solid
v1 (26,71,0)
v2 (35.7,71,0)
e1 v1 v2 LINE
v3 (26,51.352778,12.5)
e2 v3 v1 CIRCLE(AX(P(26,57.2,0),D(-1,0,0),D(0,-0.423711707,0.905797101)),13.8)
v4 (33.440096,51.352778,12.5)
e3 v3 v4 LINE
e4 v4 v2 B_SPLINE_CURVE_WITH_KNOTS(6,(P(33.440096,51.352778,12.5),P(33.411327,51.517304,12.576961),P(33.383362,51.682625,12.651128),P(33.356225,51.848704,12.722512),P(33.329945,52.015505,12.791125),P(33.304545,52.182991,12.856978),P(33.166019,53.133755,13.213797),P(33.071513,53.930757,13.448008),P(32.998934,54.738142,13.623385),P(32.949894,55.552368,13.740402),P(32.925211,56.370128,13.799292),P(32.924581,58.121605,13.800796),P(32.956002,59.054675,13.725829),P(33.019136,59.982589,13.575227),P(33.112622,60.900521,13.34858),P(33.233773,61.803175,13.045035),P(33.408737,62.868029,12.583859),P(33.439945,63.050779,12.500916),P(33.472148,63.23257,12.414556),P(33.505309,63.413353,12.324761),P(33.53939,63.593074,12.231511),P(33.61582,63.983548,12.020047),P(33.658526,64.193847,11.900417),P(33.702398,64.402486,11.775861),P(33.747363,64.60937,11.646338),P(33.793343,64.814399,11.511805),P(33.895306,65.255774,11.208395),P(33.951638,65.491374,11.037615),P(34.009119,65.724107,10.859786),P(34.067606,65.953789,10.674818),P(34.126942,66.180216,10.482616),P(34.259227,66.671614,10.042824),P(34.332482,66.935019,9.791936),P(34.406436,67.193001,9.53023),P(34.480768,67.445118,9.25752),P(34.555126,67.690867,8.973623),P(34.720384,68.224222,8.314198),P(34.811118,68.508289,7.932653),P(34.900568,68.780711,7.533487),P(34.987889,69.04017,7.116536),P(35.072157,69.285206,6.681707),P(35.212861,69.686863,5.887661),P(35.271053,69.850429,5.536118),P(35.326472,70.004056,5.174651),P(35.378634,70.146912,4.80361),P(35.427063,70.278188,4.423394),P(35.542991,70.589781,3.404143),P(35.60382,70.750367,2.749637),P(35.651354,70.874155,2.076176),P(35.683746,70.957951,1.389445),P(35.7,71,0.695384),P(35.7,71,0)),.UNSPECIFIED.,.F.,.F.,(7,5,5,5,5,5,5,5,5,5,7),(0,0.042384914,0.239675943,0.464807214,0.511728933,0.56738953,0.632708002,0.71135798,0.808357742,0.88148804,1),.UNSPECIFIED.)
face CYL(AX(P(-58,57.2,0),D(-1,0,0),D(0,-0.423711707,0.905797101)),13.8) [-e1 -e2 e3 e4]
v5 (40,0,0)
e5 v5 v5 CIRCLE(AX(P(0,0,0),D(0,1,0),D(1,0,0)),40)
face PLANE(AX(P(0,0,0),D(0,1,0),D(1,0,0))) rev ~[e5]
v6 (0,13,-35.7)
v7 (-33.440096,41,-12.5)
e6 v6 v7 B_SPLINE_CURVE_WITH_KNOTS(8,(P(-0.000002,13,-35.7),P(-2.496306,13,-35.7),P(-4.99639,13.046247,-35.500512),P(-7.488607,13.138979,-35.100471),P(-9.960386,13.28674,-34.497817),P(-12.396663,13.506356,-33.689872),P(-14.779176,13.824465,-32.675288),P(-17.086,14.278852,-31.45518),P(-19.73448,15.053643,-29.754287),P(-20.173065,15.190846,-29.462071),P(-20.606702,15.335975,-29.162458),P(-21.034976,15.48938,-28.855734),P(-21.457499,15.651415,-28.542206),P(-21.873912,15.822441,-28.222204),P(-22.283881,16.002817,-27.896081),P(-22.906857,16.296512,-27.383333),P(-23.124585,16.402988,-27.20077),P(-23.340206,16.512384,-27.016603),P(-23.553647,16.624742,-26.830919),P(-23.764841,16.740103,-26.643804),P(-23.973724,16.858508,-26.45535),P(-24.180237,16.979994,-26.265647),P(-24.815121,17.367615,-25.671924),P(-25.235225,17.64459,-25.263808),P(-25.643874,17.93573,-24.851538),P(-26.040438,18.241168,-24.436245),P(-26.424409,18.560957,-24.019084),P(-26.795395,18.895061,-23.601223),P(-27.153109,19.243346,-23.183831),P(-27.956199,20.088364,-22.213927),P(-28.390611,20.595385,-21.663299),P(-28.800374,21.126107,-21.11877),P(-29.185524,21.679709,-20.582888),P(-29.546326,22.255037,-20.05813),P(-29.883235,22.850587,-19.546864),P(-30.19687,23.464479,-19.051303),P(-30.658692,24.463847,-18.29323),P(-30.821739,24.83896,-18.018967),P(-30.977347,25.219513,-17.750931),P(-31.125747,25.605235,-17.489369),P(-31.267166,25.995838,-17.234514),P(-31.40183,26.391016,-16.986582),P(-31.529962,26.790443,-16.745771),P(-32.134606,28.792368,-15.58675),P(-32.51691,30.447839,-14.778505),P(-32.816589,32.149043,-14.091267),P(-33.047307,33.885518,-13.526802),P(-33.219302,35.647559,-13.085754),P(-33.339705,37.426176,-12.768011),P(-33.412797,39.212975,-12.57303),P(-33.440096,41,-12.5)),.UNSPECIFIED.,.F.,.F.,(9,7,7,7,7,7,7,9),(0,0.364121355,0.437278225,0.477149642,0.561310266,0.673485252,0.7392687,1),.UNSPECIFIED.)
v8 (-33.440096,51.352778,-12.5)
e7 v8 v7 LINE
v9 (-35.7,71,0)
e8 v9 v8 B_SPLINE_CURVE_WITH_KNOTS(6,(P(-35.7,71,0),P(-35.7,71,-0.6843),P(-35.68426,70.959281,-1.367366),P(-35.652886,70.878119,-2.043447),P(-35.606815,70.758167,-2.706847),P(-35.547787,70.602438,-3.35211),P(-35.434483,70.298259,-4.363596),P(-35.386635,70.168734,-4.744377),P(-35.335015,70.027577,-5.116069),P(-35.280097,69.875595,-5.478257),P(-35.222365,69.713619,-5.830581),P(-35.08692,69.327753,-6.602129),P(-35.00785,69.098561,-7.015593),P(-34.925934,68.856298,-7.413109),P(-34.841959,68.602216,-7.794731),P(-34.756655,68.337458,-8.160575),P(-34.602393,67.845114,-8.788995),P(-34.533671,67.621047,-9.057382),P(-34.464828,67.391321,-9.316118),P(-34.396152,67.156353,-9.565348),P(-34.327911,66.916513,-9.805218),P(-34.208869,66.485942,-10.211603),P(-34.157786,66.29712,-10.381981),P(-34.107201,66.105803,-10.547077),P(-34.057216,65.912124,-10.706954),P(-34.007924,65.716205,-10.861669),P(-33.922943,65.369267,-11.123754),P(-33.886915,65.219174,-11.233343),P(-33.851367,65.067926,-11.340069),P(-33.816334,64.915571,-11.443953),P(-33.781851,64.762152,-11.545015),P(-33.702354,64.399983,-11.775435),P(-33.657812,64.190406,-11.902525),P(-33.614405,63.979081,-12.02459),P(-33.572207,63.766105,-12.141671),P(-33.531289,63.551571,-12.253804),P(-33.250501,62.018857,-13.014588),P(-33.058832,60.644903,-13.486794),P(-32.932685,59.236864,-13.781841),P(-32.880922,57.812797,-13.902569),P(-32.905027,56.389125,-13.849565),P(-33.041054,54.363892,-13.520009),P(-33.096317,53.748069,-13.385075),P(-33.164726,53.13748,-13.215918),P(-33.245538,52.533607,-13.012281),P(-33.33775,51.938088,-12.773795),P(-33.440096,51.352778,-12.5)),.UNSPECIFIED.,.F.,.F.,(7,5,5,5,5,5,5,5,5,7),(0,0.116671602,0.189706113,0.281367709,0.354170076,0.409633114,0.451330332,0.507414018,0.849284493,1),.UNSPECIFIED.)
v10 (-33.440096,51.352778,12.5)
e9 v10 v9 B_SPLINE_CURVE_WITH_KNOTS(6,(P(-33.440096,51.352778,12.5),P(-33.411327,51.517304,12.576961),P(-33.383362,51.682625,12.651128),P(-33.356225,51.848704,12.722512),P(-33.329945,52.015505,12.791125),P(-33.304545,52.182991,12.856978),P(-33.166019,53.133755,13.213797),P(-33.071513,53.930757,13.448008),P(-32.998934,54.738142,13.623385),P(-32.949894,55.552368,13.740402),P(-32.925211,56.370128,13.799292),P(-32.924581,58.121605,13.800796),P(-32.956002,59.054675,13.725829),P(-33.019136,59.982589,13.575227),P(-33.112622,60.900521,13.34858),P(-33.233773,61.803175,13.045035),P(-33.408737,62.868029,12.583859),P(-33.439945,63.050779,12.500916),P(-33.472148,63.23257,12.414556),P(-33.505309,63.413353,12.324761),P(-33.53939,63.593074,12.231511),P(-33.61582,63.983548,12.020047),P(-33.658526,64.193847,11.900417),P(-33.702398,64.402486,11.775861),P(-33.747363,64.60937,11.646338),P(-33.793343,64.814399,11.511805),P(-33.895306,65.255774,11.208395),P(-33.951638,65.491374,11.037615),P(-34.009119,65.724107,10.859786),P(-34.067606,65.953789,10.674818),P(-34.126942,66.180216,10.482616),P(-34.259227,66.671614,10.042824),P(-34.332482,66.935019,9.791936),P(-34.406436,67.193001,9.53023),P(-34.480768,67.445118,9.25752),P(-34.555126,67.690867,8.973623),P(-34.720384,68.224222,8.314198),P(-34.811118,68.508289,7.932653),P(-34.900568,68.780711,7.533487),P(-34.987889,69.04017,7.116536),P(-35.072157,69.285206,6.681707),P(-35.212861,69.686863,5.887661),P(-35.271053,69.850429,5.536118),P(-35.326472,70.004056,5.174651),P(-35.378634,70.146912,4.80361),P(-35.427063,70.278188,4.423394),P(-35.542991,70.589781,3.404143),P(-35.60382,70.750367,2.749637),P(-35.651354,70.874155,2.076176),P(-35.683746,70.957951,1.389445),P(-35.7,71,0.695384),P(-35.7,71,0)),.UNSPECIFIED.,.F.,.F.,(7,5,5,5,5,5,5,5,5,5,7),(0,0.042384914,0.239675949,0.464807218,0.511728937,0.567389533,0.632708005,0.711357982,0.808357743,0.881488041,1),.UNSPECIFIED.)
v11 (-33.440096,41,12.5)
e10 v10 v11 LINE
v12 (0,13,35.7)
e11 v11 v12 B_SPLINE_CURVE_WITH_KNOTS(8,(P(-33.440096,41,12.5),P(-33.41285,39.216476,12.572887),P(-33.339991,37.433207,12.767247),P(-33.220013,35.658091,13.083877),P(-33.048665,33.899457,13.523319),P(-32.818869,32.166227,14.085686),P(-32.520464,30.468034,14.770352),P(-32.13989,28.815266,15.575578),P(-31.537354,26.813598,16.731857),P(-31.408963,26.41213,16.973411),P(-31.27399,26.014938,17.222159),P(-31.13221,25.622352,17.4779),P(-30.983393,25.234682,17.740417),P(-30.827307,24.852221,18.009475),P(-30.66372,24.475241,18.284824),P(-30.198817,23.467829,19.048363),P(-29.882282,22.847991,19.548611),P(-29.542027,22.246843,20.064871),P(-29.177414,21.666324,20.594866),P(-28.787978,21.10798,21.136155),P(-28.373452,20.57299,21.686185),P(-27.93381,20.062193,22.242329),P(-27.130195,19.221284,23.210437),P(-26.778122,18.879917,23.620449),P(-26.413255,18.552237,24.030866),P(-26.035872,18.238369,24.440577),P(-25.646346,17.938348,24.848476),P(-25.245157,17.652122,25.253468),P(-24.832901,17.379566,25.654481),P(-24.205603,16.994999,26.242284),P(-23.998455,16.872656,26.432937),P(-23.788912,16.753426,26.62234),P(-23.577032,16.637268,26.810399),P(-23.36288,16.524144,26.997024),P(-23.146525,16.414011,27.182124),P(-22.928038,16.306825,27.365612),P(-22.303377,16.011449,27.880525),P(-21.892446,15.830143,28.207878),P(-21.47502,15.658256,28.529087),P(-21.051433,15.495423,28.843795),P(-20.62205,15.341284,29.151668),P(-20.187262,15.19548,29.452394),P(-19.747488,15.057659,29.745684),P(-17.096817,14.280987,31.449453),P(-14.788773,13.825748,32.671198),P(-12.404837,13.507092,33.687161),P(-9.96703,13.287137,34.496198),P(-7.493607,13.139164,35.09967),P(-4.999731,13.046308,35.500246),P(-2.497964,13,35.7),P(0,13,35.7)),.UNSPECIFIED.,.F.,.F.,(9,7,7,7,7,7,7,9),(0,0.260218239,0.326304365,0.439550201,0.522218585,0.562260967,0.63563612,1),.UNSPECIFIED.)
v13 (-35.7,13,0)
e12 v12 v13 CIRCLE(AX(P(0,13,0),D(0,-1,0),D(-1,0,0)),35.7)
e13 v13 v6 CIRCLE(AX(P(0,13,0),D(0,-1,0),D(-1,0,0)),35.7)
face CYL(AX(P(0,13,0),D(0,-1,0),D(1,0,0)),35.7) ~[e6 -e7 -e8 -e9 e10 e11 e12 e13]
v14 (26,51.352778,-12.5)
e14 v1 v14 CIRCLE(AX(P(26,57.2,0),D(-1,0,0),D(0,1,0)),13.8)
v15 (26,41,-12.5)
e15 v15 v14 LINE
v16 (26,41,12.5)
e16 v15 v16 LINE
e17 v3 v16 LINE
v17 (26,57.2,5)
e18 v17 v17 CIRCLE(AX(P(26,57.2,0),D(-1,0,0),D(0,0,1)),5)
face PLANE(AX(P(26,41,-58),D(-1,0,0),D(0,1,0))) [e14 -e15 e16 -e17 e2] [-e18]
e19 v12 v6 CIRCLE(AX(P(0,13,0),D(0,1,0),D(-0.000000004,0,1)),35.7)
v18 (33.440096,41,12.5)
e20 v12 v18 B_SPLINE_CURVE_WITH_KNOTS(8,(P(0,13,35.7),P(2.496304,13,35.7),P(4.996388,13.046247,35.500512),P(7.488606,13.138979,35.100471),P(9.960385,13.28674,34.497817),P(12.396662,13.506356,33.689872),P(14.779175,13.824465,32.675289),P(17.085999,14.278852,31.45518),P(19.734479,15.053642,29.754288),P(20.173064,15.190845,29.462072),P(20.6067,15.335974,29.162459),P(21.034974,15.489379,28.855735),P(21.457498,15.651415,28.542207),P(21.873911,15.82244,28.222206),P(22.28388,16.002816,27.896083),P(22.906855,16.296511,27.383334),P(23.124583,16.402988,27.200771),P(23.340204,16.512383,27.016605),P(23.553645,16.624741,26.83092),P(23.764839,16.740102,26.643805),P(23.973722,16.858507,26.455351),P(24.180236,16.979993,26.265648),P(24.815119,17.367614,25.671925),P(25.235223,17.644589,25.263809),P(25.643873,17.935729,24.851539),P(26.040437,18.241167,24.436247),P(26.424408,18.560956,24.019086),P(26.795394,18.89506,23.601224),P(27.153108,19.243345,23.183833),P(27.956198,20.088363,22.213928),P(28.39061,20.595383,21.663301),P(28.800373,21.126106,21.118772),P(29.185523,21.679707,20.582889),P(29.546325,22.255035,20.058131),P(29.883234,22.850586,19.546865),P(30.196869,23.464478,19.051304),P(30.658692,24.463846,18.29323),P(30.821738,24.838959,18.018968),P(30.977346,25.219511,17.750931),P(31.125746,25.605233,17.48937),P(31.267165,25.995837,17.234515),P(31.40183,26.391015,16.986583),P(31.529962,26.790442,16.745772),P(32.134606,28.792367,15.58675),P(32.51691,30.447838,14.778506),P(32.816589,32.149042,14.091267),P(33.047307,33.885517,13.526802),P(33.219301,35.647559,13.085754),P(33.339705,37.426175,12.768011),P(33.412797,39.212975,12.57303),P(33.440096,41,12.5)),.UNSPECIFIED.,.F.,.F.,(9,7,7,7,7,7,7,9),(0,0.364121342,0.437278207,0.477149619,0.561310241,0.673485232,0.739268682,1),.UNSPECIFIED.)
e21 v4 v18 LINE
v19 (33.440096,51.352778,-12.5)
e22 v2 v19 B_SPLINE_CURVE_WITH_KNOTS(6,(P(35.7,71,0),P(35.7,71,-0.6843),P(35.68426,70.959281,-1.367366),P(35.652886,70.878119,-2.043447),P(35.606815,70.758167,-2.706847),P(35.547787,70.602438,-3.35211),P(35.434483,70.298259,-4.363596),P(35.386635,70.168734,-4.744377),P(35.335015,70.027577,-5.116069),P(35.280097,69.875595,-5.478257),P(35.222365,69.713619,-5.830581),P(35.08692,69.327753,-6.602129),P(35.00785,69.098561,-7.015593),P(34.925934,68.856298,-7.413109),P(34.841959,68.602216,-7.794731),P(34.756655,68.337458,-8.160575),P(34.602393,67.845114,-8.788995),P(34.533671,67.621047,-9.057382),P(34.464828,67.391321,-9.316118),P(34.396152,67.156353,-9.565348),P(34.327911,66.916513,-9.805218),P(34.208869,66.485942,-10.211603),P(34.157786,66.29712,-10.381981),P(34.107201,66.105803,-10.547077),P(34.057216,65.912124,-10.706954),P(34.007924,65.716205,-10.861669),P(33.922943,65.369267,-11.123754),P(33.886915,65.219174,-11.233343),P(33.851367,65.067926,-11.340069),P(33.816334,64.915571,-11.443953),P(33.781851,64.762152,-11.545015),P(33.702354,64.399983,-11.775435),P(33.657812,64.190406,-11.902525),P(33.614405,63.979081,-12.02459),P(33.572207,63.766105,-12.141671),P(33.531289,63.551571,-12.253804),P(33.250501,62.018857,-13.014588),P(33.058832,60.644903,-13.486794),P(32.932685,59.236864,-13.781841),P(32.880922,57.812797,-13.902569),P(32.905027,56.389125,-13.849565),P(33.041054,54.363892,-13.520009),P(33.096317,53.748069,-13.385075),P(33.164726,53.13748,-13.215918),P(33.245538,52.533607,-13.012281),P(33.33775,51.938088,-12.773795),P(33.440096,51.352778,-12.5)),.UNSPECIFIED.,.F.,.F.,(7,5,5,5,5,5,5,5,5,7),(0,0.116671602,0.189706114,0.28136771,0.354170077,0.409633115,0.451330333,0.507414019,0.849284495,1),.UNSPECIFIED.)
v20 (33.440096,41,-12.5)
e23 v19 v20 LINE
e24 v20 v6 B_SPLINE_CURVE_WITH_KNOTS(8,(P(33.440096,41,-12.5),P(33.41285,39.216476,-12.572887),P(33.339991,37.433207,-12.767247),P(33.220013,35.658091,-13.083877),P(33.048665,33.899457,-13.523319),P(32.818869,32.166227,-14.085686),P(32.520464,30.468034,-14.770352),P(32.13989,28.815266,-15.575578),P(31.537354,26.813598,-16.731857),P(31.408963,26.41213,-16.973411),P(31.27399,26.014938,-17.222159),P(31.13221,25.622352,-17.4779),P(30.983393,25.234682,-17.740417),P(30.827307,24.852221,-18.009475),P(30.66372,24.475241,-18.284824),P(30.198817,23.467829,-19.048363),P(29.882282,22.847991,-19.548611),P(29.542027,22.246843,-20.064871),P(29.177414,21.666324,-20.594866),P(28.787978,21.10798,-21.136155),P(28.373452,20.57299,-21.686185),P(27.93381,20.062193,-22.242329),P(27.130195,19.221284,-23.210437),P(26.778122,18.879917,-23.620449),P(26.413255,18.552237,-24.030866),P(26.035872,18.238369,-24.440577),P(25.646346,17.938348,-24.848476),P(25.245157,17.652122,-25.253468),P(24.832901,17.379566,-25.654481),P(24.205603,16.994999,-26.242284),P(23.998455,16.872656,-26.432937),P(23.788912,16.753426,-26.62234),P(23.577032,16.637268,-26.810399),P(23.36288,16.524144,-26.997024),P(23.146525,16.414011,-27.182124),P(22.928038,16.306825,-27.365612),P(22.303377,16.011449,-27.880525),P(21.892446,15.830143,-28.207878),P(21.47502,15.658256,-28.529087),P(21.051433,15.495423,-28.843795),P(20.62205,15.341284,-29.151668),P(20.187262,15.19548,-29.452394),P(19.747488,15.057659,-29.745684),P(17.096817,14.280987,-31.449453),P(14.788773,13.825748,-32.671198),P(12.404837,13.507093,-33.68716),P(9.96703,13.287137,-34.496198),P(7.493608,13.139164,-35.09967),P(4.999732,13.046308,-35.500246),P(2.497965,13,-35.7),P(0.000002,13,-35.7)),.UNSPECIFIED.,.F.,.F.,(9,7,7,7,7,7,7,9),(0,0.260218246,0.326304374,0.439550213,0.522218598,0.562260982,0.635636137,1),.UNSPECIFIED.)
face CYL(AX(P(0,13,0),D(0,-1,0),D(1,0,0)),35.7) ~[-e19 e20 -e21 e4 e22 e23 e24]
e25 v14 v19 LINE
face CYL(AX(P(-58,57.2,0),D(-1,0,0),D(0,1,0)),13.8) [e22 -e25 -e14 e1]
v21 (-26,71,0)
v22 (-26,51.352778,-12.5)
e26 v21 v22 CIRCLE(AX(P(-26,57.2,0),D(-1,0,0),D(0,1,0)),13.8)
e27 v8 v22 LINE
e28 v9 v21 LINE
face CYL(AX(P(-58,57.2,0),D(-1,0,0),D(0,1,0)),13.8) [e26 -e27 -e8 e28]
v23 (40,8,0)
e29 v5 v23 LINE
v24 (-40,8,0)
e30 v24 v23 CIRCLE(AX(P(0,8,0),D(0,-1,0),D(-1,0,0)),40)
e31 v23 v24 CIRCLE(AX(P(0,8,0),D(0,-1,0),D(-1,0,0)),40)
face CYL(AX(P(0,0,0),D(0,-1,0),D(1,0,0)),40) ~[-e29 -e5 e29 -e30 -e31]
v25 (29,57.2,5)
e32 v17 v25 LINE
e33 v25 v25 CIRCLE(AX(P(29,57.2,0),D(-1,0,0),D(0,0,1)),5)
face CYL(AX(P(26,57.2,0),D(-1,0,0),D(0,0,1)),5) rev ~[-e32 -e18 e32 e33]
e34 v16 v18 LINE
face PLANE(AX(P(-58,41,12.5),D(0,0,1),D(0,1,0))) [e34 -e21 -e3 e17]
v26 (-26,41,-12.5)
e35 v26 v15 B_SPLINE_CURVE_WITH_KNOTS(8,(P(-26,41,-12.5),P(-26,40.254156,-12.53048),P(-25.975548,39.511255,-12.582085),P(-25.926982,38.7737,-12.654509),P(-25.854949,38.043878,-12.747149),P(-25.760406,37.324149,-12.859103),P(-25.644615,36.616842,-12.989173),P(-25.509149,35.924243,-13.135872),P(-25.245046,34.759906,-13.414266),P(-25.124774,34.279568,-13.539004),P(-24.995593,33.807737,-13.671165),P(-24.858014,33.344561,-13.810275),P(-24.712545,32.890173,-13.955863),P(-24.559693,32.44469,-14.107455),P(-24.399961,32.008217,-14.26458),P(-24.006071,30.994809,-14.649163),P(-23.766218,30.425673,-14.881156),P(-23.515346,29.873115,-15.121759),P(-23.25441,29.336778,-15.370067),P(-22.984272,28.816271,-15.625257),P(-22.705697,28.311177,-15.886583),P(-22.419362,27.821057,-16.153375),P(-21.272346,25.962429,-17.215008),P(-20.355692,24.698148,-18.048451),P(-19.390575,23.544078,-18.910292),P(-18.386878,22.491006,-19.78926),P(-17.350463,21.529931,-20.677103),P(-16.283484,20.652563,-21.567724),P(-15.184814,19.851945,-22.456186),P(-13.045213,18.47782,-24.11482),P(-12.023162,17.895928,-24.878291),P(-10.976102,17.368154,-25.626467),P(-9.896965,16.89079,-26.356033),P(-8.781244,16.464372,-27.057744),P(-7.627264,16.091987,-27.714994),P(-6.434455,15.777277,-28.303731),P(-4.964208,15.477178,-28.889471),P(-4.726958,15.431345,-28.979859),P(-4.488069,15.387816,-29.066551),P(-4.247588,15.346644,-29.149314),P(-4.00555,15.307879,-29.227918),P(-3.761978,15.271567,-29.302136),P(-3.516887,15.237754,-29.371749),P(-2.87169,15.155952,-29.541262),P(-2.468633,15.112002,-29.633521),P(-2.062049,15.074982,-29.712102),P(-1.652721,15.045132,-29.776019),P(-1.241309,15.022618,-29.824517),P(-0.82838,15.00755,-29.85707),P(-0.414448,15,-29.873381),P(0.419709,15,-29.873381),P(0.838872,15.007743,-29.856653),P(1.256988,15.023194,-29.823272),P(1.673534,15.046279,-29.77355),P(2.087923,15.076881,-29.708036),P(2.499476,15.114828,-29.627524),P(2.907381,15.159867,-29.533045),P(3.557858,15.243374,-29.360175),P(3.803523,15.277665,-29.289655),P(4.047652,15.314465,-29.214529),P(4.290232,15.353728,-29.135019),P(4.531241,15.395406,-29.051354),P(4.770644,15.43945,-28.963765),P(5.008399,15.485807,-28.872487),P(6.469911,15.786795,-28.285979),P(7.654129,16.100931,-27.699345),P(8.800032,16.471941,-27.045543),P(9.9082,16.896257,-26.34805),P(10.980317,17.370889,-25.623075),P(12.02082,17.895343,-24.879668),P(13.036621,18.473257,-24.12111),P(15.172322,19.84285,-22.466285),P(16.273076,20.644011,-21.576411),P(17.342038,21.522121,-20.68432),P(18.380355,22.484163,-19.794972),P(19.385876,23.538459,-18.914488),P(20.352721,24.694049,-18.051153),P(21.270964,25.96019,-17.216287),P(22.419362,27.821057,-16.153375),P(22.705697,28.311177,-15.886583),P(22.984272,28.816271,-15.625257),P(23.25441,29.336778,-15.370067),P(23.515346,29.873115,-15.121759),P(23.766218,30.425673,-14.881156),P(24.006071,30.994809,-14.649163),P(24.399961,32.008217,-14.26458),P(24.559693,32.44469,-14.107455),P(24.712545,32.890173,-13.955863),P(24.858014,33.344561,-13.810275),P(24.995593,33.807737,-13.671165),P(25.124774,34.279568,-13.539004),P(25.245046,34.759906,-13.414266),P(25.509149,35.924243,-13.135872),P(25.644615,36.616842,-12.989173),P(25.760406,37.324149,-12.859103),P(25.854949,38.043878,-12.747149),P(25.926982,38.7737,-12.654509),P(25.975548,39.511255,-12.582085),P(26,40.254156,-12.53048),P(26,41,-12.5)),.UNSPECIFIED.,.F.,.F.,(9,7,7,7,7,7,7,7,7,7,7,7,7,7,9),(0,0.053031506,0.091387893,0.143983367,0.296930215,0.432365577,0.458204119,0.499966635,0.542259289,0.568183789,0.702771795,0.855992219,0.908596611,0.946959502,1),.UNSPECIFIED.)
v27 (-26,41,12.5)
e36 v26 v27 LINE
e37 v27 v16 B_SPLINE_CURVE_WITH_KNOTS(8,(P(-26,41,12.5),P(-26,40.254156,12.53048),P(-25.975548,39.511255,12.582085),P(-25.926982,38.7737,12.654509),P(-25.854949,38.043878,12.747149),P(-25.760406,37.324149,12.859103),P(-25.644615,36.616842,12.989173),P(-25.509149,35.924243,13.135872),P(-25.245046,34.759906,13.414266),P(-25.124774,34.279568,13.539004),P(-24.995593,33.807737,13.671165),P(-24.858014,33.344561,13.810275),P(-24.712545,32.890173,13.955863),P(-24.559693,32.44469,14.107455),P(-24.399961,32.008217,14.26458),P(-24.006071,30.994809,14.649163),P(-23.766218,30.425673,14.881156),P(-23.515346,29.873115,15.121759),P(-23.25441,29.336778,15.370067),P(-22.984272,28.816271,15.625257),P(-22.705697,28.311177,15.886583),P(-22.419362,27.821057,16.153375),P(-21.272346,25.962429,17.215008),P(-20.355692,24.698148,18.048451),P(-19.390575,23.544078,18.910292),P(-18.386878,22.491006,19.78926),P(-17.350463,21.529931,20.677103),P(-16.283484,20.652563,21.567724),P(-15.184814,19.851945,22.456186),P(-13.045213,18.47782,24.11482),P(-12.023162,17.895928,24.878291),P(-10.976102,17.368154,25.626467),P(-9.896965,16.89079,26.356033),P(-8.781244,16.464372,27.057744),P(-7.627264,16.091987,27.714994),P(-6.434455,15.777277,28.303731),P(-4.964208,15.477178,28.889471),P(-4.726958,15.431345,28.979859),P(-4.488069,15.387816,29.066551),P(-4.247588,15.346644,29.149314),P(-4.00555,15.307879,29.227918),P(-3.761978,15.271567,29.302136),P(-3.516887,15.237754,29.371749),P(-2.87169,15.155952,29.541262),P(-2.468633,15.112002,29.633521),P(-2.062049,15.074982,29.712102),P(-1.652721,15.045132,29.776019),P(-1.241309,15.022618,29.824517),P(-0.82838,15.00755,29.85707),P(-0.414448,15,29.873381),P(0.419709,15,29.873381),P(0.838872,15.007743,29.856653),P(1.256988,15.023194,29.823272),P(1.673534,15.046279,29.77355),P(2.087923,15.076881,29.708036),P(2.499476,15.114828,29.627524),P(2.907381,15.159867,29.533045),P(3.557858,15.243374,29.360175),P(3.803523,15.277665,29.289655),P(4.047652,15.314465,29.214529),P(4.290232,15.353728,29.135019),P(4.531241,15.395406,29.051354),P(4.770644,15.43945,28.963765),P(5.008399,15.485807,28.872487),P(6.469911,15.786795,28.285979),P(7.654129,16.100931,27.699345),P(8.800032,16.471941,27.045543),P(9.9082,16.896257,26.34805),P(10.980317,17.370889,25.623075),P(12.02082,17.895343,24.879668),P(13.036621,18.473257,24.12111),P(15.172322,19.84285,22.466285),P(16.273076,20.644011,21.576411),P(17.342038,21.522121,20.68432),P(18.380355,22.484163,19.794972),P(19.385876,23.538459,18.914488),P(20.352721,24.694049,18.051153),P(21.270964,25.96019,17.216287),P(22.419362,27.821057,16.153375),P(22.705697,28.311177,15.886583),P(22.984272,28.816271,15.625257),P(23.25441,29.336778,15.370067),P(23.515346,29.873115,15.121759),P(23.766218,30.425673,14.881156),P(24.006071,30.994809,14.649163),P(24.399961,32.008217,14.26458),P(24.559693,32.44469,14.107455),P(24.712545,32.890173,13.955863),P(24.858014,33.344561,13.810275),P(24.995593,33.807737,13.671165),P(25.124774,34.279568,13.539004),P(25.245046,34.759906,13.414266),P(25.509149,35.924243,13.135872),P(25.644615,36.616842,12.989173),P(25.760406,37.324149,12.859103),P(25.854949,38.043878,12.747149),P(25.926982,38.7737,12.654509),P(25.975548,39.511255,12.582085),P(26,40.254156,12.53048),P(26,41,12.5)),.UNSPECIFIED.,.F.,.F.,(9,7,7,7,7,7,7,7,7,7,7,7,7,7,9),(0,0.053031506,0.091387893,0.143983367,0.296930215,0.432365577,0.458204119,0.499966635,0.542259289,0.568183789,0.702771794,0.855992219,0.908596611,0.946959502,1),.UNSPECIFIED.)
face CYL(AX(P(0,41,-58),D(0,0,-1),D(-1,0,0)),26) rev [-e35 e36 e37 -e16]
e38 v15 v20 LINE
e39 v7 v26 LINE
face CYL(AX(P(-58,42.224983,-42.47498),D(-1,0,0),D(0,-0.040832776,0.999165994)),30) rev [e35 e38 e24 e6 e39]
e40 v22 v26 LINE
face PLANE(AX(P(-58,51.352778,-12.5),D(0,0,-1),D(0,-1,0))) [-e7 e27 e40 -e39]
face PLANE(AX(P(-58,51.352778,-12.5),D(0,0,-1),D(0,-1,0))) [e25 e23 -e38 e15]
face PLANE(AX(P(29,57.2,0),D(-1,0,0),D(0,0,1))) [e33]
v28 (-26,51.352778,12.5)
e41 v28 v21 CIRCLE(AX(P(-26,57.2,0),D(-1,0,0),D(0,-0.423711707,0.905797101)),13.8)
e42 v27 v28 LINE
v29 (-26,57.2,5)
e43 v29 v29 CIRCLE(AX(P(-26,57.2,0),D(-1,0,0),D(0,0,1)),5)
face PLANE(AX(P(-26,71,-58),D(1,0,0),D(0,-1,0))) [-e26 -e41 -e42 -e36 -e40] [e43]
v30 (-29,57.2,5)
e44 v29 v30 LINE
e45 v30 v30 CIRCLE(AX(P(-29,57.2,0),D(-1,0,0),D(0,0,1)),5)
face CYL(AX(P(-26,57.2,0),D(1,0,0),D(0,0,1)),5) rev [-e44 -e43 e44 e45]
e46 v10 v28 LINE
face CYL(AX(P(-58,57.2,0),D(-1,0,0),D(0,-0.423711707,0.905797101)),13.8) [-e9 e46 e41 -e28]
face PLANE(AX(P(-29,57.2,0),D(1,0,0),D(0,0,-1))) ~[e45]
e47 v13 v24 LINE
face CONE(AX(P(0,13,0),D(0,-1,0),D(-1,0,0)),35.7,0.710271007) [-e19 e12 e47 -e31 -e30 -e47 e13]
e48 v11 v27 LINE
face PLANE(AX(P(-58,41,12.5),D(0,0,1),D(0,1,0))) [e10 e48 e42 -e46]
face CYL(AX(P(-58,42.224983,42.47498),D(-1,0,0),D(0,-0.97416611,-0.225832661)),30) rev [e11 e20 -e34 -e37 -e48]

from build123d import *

# Parameters (mm, degrees)
SKETCH_1_R               = 40
EXTRUDE_1_DEPTH          = 13
SKETCH_3_R               = 35.7
EXTRUDE_2_DEPTH          = 58
CUT_EXTRUDE_1_DEPTH      = 58
CUT_EXTRUDE_1_DEPTH_BACK = 58
CUT_EXTRUDE_2_DEPTH      = 58
CUT_EXTRUDE_2_DEPTH_BACK = 58
SKETCH_6_R               = 5
CUT_EXTRUDE_3_DEPTH      = 3


with BuildPart() as part:
    # 草图1 → 凸台-拉伸1 (new body)
    with BuildSketch(Plane(origin=(0, 0, 0), x_dir=(1, 0, 0), z_dir=(0, 1, 0))):
        Circle(SKETCH_1_R)
    extrude(amount=EXTRUDE_1_DEPTH)

    # 草图2 → 切除-旋转1 (revolve, cut)
    with BuildSketch(Plane.XY):
        Polygon((-35.7, 13), (-40, 8), (-40, 13), align=None)
    revolve(axis=Axis((0, 13, 0), (0, -1, 0)), mode=Mode.SUBTRACT)

    # 草图3 → 凸台-拉伸2 (add)
    with BuildSketch(Plane(origin=(0, 13, 0), x_dir=(1, 0, 0), z_dir=(0, 1, 0))):
        Circle(SKETCH_3_R)
    extrude(amount=EXTRUDE_2_DEPTH)

    # 草图4 → 切除-拉伸1 (cut, two sides: drawn at the far end of the back side and taken through both)
    with BuildSketch(Plane(origin=(0, 0, 0), x_dir=(0, 0, -1), z_dir=(1, 0, 0)).offset(-CUT_EXTRUDE_1_DEPTH_BACK)):
        with BuildLine():
            ThreePointArc((-35.7, 13), (-19.374333005, 23.084447347), (-12.5, 41))
            Line((-12.5, 41), (-12.5, 51.352778438))
            ThreePointArc((-12.5, 51.352778438), (-11.643273972, 64.607710255), (0, 71))
            Line((0, 71), (-35.7, 71))
            Line((-35.7, 71), (-35.7, 13))
        make_face()
        with BuildLine():
            Line((35.7, 71), (0, 71))
            ThreePointArc((0, 71), (11.643273972, 64.607710255), (12.5, 51.352778438))
            Line((12.5, 51.352778438), (12.5, 41))
            ThreePointArc((12.5, 41), (19.374333005, 23.084447347), (35.7, 13))
            Line((35.7, 13), (35.7, 71))
        make_face()
    extrude(amount=CUT_EXTRUDE_1_DEPTH + CUT_EXTRUDE_1_DEPTH_BACK, mode=Mode.SUBTRACT)

    # 草图5 → 切除-拉伸2 (cut, two sides: drawn at the far end of the back side and taken through both)
    with BuildSketch(Plane.XY.offset(-CUT_EXTRUDE_2_DEPTH_BACK)):
        with BuildLine():
            Line((-26, 71), (-26, 41))
            ThreePointArc((-26, 41), (0, 15), (26, 41))
            Line((26, 41), (26, 71))
            Line((26, 71), (-26, 71))
        make_face()
    extrude(amount=CUT_EXTRUDE_2_DEPTH + CUT_EXTRUDE_2_DEPTH_BACK, mode=Mode.SUBTRACT)

    # 草图6 → 切除-拉伸3 (cut)
    with BuildSketch(Plane.ZY.offset(-26)):
        with Locations((0, 57.2)):
            Circle(SKETCH_6_R)
    cut_extrude_3 = extrude(amount=-CUT_EXTRUDE_3_DEPTH, mode=Mode.SUBTRACT)

    # 镜向1: 切除-拉伸3 across plane
    add(cut_extrude_3.mirror(Plane(origin=(0, 0, 0), x_dir=(0, 0, 1), z_dir=(1, 0, 0))), mode=Mode.SUBTRACT)


solid = part.part
